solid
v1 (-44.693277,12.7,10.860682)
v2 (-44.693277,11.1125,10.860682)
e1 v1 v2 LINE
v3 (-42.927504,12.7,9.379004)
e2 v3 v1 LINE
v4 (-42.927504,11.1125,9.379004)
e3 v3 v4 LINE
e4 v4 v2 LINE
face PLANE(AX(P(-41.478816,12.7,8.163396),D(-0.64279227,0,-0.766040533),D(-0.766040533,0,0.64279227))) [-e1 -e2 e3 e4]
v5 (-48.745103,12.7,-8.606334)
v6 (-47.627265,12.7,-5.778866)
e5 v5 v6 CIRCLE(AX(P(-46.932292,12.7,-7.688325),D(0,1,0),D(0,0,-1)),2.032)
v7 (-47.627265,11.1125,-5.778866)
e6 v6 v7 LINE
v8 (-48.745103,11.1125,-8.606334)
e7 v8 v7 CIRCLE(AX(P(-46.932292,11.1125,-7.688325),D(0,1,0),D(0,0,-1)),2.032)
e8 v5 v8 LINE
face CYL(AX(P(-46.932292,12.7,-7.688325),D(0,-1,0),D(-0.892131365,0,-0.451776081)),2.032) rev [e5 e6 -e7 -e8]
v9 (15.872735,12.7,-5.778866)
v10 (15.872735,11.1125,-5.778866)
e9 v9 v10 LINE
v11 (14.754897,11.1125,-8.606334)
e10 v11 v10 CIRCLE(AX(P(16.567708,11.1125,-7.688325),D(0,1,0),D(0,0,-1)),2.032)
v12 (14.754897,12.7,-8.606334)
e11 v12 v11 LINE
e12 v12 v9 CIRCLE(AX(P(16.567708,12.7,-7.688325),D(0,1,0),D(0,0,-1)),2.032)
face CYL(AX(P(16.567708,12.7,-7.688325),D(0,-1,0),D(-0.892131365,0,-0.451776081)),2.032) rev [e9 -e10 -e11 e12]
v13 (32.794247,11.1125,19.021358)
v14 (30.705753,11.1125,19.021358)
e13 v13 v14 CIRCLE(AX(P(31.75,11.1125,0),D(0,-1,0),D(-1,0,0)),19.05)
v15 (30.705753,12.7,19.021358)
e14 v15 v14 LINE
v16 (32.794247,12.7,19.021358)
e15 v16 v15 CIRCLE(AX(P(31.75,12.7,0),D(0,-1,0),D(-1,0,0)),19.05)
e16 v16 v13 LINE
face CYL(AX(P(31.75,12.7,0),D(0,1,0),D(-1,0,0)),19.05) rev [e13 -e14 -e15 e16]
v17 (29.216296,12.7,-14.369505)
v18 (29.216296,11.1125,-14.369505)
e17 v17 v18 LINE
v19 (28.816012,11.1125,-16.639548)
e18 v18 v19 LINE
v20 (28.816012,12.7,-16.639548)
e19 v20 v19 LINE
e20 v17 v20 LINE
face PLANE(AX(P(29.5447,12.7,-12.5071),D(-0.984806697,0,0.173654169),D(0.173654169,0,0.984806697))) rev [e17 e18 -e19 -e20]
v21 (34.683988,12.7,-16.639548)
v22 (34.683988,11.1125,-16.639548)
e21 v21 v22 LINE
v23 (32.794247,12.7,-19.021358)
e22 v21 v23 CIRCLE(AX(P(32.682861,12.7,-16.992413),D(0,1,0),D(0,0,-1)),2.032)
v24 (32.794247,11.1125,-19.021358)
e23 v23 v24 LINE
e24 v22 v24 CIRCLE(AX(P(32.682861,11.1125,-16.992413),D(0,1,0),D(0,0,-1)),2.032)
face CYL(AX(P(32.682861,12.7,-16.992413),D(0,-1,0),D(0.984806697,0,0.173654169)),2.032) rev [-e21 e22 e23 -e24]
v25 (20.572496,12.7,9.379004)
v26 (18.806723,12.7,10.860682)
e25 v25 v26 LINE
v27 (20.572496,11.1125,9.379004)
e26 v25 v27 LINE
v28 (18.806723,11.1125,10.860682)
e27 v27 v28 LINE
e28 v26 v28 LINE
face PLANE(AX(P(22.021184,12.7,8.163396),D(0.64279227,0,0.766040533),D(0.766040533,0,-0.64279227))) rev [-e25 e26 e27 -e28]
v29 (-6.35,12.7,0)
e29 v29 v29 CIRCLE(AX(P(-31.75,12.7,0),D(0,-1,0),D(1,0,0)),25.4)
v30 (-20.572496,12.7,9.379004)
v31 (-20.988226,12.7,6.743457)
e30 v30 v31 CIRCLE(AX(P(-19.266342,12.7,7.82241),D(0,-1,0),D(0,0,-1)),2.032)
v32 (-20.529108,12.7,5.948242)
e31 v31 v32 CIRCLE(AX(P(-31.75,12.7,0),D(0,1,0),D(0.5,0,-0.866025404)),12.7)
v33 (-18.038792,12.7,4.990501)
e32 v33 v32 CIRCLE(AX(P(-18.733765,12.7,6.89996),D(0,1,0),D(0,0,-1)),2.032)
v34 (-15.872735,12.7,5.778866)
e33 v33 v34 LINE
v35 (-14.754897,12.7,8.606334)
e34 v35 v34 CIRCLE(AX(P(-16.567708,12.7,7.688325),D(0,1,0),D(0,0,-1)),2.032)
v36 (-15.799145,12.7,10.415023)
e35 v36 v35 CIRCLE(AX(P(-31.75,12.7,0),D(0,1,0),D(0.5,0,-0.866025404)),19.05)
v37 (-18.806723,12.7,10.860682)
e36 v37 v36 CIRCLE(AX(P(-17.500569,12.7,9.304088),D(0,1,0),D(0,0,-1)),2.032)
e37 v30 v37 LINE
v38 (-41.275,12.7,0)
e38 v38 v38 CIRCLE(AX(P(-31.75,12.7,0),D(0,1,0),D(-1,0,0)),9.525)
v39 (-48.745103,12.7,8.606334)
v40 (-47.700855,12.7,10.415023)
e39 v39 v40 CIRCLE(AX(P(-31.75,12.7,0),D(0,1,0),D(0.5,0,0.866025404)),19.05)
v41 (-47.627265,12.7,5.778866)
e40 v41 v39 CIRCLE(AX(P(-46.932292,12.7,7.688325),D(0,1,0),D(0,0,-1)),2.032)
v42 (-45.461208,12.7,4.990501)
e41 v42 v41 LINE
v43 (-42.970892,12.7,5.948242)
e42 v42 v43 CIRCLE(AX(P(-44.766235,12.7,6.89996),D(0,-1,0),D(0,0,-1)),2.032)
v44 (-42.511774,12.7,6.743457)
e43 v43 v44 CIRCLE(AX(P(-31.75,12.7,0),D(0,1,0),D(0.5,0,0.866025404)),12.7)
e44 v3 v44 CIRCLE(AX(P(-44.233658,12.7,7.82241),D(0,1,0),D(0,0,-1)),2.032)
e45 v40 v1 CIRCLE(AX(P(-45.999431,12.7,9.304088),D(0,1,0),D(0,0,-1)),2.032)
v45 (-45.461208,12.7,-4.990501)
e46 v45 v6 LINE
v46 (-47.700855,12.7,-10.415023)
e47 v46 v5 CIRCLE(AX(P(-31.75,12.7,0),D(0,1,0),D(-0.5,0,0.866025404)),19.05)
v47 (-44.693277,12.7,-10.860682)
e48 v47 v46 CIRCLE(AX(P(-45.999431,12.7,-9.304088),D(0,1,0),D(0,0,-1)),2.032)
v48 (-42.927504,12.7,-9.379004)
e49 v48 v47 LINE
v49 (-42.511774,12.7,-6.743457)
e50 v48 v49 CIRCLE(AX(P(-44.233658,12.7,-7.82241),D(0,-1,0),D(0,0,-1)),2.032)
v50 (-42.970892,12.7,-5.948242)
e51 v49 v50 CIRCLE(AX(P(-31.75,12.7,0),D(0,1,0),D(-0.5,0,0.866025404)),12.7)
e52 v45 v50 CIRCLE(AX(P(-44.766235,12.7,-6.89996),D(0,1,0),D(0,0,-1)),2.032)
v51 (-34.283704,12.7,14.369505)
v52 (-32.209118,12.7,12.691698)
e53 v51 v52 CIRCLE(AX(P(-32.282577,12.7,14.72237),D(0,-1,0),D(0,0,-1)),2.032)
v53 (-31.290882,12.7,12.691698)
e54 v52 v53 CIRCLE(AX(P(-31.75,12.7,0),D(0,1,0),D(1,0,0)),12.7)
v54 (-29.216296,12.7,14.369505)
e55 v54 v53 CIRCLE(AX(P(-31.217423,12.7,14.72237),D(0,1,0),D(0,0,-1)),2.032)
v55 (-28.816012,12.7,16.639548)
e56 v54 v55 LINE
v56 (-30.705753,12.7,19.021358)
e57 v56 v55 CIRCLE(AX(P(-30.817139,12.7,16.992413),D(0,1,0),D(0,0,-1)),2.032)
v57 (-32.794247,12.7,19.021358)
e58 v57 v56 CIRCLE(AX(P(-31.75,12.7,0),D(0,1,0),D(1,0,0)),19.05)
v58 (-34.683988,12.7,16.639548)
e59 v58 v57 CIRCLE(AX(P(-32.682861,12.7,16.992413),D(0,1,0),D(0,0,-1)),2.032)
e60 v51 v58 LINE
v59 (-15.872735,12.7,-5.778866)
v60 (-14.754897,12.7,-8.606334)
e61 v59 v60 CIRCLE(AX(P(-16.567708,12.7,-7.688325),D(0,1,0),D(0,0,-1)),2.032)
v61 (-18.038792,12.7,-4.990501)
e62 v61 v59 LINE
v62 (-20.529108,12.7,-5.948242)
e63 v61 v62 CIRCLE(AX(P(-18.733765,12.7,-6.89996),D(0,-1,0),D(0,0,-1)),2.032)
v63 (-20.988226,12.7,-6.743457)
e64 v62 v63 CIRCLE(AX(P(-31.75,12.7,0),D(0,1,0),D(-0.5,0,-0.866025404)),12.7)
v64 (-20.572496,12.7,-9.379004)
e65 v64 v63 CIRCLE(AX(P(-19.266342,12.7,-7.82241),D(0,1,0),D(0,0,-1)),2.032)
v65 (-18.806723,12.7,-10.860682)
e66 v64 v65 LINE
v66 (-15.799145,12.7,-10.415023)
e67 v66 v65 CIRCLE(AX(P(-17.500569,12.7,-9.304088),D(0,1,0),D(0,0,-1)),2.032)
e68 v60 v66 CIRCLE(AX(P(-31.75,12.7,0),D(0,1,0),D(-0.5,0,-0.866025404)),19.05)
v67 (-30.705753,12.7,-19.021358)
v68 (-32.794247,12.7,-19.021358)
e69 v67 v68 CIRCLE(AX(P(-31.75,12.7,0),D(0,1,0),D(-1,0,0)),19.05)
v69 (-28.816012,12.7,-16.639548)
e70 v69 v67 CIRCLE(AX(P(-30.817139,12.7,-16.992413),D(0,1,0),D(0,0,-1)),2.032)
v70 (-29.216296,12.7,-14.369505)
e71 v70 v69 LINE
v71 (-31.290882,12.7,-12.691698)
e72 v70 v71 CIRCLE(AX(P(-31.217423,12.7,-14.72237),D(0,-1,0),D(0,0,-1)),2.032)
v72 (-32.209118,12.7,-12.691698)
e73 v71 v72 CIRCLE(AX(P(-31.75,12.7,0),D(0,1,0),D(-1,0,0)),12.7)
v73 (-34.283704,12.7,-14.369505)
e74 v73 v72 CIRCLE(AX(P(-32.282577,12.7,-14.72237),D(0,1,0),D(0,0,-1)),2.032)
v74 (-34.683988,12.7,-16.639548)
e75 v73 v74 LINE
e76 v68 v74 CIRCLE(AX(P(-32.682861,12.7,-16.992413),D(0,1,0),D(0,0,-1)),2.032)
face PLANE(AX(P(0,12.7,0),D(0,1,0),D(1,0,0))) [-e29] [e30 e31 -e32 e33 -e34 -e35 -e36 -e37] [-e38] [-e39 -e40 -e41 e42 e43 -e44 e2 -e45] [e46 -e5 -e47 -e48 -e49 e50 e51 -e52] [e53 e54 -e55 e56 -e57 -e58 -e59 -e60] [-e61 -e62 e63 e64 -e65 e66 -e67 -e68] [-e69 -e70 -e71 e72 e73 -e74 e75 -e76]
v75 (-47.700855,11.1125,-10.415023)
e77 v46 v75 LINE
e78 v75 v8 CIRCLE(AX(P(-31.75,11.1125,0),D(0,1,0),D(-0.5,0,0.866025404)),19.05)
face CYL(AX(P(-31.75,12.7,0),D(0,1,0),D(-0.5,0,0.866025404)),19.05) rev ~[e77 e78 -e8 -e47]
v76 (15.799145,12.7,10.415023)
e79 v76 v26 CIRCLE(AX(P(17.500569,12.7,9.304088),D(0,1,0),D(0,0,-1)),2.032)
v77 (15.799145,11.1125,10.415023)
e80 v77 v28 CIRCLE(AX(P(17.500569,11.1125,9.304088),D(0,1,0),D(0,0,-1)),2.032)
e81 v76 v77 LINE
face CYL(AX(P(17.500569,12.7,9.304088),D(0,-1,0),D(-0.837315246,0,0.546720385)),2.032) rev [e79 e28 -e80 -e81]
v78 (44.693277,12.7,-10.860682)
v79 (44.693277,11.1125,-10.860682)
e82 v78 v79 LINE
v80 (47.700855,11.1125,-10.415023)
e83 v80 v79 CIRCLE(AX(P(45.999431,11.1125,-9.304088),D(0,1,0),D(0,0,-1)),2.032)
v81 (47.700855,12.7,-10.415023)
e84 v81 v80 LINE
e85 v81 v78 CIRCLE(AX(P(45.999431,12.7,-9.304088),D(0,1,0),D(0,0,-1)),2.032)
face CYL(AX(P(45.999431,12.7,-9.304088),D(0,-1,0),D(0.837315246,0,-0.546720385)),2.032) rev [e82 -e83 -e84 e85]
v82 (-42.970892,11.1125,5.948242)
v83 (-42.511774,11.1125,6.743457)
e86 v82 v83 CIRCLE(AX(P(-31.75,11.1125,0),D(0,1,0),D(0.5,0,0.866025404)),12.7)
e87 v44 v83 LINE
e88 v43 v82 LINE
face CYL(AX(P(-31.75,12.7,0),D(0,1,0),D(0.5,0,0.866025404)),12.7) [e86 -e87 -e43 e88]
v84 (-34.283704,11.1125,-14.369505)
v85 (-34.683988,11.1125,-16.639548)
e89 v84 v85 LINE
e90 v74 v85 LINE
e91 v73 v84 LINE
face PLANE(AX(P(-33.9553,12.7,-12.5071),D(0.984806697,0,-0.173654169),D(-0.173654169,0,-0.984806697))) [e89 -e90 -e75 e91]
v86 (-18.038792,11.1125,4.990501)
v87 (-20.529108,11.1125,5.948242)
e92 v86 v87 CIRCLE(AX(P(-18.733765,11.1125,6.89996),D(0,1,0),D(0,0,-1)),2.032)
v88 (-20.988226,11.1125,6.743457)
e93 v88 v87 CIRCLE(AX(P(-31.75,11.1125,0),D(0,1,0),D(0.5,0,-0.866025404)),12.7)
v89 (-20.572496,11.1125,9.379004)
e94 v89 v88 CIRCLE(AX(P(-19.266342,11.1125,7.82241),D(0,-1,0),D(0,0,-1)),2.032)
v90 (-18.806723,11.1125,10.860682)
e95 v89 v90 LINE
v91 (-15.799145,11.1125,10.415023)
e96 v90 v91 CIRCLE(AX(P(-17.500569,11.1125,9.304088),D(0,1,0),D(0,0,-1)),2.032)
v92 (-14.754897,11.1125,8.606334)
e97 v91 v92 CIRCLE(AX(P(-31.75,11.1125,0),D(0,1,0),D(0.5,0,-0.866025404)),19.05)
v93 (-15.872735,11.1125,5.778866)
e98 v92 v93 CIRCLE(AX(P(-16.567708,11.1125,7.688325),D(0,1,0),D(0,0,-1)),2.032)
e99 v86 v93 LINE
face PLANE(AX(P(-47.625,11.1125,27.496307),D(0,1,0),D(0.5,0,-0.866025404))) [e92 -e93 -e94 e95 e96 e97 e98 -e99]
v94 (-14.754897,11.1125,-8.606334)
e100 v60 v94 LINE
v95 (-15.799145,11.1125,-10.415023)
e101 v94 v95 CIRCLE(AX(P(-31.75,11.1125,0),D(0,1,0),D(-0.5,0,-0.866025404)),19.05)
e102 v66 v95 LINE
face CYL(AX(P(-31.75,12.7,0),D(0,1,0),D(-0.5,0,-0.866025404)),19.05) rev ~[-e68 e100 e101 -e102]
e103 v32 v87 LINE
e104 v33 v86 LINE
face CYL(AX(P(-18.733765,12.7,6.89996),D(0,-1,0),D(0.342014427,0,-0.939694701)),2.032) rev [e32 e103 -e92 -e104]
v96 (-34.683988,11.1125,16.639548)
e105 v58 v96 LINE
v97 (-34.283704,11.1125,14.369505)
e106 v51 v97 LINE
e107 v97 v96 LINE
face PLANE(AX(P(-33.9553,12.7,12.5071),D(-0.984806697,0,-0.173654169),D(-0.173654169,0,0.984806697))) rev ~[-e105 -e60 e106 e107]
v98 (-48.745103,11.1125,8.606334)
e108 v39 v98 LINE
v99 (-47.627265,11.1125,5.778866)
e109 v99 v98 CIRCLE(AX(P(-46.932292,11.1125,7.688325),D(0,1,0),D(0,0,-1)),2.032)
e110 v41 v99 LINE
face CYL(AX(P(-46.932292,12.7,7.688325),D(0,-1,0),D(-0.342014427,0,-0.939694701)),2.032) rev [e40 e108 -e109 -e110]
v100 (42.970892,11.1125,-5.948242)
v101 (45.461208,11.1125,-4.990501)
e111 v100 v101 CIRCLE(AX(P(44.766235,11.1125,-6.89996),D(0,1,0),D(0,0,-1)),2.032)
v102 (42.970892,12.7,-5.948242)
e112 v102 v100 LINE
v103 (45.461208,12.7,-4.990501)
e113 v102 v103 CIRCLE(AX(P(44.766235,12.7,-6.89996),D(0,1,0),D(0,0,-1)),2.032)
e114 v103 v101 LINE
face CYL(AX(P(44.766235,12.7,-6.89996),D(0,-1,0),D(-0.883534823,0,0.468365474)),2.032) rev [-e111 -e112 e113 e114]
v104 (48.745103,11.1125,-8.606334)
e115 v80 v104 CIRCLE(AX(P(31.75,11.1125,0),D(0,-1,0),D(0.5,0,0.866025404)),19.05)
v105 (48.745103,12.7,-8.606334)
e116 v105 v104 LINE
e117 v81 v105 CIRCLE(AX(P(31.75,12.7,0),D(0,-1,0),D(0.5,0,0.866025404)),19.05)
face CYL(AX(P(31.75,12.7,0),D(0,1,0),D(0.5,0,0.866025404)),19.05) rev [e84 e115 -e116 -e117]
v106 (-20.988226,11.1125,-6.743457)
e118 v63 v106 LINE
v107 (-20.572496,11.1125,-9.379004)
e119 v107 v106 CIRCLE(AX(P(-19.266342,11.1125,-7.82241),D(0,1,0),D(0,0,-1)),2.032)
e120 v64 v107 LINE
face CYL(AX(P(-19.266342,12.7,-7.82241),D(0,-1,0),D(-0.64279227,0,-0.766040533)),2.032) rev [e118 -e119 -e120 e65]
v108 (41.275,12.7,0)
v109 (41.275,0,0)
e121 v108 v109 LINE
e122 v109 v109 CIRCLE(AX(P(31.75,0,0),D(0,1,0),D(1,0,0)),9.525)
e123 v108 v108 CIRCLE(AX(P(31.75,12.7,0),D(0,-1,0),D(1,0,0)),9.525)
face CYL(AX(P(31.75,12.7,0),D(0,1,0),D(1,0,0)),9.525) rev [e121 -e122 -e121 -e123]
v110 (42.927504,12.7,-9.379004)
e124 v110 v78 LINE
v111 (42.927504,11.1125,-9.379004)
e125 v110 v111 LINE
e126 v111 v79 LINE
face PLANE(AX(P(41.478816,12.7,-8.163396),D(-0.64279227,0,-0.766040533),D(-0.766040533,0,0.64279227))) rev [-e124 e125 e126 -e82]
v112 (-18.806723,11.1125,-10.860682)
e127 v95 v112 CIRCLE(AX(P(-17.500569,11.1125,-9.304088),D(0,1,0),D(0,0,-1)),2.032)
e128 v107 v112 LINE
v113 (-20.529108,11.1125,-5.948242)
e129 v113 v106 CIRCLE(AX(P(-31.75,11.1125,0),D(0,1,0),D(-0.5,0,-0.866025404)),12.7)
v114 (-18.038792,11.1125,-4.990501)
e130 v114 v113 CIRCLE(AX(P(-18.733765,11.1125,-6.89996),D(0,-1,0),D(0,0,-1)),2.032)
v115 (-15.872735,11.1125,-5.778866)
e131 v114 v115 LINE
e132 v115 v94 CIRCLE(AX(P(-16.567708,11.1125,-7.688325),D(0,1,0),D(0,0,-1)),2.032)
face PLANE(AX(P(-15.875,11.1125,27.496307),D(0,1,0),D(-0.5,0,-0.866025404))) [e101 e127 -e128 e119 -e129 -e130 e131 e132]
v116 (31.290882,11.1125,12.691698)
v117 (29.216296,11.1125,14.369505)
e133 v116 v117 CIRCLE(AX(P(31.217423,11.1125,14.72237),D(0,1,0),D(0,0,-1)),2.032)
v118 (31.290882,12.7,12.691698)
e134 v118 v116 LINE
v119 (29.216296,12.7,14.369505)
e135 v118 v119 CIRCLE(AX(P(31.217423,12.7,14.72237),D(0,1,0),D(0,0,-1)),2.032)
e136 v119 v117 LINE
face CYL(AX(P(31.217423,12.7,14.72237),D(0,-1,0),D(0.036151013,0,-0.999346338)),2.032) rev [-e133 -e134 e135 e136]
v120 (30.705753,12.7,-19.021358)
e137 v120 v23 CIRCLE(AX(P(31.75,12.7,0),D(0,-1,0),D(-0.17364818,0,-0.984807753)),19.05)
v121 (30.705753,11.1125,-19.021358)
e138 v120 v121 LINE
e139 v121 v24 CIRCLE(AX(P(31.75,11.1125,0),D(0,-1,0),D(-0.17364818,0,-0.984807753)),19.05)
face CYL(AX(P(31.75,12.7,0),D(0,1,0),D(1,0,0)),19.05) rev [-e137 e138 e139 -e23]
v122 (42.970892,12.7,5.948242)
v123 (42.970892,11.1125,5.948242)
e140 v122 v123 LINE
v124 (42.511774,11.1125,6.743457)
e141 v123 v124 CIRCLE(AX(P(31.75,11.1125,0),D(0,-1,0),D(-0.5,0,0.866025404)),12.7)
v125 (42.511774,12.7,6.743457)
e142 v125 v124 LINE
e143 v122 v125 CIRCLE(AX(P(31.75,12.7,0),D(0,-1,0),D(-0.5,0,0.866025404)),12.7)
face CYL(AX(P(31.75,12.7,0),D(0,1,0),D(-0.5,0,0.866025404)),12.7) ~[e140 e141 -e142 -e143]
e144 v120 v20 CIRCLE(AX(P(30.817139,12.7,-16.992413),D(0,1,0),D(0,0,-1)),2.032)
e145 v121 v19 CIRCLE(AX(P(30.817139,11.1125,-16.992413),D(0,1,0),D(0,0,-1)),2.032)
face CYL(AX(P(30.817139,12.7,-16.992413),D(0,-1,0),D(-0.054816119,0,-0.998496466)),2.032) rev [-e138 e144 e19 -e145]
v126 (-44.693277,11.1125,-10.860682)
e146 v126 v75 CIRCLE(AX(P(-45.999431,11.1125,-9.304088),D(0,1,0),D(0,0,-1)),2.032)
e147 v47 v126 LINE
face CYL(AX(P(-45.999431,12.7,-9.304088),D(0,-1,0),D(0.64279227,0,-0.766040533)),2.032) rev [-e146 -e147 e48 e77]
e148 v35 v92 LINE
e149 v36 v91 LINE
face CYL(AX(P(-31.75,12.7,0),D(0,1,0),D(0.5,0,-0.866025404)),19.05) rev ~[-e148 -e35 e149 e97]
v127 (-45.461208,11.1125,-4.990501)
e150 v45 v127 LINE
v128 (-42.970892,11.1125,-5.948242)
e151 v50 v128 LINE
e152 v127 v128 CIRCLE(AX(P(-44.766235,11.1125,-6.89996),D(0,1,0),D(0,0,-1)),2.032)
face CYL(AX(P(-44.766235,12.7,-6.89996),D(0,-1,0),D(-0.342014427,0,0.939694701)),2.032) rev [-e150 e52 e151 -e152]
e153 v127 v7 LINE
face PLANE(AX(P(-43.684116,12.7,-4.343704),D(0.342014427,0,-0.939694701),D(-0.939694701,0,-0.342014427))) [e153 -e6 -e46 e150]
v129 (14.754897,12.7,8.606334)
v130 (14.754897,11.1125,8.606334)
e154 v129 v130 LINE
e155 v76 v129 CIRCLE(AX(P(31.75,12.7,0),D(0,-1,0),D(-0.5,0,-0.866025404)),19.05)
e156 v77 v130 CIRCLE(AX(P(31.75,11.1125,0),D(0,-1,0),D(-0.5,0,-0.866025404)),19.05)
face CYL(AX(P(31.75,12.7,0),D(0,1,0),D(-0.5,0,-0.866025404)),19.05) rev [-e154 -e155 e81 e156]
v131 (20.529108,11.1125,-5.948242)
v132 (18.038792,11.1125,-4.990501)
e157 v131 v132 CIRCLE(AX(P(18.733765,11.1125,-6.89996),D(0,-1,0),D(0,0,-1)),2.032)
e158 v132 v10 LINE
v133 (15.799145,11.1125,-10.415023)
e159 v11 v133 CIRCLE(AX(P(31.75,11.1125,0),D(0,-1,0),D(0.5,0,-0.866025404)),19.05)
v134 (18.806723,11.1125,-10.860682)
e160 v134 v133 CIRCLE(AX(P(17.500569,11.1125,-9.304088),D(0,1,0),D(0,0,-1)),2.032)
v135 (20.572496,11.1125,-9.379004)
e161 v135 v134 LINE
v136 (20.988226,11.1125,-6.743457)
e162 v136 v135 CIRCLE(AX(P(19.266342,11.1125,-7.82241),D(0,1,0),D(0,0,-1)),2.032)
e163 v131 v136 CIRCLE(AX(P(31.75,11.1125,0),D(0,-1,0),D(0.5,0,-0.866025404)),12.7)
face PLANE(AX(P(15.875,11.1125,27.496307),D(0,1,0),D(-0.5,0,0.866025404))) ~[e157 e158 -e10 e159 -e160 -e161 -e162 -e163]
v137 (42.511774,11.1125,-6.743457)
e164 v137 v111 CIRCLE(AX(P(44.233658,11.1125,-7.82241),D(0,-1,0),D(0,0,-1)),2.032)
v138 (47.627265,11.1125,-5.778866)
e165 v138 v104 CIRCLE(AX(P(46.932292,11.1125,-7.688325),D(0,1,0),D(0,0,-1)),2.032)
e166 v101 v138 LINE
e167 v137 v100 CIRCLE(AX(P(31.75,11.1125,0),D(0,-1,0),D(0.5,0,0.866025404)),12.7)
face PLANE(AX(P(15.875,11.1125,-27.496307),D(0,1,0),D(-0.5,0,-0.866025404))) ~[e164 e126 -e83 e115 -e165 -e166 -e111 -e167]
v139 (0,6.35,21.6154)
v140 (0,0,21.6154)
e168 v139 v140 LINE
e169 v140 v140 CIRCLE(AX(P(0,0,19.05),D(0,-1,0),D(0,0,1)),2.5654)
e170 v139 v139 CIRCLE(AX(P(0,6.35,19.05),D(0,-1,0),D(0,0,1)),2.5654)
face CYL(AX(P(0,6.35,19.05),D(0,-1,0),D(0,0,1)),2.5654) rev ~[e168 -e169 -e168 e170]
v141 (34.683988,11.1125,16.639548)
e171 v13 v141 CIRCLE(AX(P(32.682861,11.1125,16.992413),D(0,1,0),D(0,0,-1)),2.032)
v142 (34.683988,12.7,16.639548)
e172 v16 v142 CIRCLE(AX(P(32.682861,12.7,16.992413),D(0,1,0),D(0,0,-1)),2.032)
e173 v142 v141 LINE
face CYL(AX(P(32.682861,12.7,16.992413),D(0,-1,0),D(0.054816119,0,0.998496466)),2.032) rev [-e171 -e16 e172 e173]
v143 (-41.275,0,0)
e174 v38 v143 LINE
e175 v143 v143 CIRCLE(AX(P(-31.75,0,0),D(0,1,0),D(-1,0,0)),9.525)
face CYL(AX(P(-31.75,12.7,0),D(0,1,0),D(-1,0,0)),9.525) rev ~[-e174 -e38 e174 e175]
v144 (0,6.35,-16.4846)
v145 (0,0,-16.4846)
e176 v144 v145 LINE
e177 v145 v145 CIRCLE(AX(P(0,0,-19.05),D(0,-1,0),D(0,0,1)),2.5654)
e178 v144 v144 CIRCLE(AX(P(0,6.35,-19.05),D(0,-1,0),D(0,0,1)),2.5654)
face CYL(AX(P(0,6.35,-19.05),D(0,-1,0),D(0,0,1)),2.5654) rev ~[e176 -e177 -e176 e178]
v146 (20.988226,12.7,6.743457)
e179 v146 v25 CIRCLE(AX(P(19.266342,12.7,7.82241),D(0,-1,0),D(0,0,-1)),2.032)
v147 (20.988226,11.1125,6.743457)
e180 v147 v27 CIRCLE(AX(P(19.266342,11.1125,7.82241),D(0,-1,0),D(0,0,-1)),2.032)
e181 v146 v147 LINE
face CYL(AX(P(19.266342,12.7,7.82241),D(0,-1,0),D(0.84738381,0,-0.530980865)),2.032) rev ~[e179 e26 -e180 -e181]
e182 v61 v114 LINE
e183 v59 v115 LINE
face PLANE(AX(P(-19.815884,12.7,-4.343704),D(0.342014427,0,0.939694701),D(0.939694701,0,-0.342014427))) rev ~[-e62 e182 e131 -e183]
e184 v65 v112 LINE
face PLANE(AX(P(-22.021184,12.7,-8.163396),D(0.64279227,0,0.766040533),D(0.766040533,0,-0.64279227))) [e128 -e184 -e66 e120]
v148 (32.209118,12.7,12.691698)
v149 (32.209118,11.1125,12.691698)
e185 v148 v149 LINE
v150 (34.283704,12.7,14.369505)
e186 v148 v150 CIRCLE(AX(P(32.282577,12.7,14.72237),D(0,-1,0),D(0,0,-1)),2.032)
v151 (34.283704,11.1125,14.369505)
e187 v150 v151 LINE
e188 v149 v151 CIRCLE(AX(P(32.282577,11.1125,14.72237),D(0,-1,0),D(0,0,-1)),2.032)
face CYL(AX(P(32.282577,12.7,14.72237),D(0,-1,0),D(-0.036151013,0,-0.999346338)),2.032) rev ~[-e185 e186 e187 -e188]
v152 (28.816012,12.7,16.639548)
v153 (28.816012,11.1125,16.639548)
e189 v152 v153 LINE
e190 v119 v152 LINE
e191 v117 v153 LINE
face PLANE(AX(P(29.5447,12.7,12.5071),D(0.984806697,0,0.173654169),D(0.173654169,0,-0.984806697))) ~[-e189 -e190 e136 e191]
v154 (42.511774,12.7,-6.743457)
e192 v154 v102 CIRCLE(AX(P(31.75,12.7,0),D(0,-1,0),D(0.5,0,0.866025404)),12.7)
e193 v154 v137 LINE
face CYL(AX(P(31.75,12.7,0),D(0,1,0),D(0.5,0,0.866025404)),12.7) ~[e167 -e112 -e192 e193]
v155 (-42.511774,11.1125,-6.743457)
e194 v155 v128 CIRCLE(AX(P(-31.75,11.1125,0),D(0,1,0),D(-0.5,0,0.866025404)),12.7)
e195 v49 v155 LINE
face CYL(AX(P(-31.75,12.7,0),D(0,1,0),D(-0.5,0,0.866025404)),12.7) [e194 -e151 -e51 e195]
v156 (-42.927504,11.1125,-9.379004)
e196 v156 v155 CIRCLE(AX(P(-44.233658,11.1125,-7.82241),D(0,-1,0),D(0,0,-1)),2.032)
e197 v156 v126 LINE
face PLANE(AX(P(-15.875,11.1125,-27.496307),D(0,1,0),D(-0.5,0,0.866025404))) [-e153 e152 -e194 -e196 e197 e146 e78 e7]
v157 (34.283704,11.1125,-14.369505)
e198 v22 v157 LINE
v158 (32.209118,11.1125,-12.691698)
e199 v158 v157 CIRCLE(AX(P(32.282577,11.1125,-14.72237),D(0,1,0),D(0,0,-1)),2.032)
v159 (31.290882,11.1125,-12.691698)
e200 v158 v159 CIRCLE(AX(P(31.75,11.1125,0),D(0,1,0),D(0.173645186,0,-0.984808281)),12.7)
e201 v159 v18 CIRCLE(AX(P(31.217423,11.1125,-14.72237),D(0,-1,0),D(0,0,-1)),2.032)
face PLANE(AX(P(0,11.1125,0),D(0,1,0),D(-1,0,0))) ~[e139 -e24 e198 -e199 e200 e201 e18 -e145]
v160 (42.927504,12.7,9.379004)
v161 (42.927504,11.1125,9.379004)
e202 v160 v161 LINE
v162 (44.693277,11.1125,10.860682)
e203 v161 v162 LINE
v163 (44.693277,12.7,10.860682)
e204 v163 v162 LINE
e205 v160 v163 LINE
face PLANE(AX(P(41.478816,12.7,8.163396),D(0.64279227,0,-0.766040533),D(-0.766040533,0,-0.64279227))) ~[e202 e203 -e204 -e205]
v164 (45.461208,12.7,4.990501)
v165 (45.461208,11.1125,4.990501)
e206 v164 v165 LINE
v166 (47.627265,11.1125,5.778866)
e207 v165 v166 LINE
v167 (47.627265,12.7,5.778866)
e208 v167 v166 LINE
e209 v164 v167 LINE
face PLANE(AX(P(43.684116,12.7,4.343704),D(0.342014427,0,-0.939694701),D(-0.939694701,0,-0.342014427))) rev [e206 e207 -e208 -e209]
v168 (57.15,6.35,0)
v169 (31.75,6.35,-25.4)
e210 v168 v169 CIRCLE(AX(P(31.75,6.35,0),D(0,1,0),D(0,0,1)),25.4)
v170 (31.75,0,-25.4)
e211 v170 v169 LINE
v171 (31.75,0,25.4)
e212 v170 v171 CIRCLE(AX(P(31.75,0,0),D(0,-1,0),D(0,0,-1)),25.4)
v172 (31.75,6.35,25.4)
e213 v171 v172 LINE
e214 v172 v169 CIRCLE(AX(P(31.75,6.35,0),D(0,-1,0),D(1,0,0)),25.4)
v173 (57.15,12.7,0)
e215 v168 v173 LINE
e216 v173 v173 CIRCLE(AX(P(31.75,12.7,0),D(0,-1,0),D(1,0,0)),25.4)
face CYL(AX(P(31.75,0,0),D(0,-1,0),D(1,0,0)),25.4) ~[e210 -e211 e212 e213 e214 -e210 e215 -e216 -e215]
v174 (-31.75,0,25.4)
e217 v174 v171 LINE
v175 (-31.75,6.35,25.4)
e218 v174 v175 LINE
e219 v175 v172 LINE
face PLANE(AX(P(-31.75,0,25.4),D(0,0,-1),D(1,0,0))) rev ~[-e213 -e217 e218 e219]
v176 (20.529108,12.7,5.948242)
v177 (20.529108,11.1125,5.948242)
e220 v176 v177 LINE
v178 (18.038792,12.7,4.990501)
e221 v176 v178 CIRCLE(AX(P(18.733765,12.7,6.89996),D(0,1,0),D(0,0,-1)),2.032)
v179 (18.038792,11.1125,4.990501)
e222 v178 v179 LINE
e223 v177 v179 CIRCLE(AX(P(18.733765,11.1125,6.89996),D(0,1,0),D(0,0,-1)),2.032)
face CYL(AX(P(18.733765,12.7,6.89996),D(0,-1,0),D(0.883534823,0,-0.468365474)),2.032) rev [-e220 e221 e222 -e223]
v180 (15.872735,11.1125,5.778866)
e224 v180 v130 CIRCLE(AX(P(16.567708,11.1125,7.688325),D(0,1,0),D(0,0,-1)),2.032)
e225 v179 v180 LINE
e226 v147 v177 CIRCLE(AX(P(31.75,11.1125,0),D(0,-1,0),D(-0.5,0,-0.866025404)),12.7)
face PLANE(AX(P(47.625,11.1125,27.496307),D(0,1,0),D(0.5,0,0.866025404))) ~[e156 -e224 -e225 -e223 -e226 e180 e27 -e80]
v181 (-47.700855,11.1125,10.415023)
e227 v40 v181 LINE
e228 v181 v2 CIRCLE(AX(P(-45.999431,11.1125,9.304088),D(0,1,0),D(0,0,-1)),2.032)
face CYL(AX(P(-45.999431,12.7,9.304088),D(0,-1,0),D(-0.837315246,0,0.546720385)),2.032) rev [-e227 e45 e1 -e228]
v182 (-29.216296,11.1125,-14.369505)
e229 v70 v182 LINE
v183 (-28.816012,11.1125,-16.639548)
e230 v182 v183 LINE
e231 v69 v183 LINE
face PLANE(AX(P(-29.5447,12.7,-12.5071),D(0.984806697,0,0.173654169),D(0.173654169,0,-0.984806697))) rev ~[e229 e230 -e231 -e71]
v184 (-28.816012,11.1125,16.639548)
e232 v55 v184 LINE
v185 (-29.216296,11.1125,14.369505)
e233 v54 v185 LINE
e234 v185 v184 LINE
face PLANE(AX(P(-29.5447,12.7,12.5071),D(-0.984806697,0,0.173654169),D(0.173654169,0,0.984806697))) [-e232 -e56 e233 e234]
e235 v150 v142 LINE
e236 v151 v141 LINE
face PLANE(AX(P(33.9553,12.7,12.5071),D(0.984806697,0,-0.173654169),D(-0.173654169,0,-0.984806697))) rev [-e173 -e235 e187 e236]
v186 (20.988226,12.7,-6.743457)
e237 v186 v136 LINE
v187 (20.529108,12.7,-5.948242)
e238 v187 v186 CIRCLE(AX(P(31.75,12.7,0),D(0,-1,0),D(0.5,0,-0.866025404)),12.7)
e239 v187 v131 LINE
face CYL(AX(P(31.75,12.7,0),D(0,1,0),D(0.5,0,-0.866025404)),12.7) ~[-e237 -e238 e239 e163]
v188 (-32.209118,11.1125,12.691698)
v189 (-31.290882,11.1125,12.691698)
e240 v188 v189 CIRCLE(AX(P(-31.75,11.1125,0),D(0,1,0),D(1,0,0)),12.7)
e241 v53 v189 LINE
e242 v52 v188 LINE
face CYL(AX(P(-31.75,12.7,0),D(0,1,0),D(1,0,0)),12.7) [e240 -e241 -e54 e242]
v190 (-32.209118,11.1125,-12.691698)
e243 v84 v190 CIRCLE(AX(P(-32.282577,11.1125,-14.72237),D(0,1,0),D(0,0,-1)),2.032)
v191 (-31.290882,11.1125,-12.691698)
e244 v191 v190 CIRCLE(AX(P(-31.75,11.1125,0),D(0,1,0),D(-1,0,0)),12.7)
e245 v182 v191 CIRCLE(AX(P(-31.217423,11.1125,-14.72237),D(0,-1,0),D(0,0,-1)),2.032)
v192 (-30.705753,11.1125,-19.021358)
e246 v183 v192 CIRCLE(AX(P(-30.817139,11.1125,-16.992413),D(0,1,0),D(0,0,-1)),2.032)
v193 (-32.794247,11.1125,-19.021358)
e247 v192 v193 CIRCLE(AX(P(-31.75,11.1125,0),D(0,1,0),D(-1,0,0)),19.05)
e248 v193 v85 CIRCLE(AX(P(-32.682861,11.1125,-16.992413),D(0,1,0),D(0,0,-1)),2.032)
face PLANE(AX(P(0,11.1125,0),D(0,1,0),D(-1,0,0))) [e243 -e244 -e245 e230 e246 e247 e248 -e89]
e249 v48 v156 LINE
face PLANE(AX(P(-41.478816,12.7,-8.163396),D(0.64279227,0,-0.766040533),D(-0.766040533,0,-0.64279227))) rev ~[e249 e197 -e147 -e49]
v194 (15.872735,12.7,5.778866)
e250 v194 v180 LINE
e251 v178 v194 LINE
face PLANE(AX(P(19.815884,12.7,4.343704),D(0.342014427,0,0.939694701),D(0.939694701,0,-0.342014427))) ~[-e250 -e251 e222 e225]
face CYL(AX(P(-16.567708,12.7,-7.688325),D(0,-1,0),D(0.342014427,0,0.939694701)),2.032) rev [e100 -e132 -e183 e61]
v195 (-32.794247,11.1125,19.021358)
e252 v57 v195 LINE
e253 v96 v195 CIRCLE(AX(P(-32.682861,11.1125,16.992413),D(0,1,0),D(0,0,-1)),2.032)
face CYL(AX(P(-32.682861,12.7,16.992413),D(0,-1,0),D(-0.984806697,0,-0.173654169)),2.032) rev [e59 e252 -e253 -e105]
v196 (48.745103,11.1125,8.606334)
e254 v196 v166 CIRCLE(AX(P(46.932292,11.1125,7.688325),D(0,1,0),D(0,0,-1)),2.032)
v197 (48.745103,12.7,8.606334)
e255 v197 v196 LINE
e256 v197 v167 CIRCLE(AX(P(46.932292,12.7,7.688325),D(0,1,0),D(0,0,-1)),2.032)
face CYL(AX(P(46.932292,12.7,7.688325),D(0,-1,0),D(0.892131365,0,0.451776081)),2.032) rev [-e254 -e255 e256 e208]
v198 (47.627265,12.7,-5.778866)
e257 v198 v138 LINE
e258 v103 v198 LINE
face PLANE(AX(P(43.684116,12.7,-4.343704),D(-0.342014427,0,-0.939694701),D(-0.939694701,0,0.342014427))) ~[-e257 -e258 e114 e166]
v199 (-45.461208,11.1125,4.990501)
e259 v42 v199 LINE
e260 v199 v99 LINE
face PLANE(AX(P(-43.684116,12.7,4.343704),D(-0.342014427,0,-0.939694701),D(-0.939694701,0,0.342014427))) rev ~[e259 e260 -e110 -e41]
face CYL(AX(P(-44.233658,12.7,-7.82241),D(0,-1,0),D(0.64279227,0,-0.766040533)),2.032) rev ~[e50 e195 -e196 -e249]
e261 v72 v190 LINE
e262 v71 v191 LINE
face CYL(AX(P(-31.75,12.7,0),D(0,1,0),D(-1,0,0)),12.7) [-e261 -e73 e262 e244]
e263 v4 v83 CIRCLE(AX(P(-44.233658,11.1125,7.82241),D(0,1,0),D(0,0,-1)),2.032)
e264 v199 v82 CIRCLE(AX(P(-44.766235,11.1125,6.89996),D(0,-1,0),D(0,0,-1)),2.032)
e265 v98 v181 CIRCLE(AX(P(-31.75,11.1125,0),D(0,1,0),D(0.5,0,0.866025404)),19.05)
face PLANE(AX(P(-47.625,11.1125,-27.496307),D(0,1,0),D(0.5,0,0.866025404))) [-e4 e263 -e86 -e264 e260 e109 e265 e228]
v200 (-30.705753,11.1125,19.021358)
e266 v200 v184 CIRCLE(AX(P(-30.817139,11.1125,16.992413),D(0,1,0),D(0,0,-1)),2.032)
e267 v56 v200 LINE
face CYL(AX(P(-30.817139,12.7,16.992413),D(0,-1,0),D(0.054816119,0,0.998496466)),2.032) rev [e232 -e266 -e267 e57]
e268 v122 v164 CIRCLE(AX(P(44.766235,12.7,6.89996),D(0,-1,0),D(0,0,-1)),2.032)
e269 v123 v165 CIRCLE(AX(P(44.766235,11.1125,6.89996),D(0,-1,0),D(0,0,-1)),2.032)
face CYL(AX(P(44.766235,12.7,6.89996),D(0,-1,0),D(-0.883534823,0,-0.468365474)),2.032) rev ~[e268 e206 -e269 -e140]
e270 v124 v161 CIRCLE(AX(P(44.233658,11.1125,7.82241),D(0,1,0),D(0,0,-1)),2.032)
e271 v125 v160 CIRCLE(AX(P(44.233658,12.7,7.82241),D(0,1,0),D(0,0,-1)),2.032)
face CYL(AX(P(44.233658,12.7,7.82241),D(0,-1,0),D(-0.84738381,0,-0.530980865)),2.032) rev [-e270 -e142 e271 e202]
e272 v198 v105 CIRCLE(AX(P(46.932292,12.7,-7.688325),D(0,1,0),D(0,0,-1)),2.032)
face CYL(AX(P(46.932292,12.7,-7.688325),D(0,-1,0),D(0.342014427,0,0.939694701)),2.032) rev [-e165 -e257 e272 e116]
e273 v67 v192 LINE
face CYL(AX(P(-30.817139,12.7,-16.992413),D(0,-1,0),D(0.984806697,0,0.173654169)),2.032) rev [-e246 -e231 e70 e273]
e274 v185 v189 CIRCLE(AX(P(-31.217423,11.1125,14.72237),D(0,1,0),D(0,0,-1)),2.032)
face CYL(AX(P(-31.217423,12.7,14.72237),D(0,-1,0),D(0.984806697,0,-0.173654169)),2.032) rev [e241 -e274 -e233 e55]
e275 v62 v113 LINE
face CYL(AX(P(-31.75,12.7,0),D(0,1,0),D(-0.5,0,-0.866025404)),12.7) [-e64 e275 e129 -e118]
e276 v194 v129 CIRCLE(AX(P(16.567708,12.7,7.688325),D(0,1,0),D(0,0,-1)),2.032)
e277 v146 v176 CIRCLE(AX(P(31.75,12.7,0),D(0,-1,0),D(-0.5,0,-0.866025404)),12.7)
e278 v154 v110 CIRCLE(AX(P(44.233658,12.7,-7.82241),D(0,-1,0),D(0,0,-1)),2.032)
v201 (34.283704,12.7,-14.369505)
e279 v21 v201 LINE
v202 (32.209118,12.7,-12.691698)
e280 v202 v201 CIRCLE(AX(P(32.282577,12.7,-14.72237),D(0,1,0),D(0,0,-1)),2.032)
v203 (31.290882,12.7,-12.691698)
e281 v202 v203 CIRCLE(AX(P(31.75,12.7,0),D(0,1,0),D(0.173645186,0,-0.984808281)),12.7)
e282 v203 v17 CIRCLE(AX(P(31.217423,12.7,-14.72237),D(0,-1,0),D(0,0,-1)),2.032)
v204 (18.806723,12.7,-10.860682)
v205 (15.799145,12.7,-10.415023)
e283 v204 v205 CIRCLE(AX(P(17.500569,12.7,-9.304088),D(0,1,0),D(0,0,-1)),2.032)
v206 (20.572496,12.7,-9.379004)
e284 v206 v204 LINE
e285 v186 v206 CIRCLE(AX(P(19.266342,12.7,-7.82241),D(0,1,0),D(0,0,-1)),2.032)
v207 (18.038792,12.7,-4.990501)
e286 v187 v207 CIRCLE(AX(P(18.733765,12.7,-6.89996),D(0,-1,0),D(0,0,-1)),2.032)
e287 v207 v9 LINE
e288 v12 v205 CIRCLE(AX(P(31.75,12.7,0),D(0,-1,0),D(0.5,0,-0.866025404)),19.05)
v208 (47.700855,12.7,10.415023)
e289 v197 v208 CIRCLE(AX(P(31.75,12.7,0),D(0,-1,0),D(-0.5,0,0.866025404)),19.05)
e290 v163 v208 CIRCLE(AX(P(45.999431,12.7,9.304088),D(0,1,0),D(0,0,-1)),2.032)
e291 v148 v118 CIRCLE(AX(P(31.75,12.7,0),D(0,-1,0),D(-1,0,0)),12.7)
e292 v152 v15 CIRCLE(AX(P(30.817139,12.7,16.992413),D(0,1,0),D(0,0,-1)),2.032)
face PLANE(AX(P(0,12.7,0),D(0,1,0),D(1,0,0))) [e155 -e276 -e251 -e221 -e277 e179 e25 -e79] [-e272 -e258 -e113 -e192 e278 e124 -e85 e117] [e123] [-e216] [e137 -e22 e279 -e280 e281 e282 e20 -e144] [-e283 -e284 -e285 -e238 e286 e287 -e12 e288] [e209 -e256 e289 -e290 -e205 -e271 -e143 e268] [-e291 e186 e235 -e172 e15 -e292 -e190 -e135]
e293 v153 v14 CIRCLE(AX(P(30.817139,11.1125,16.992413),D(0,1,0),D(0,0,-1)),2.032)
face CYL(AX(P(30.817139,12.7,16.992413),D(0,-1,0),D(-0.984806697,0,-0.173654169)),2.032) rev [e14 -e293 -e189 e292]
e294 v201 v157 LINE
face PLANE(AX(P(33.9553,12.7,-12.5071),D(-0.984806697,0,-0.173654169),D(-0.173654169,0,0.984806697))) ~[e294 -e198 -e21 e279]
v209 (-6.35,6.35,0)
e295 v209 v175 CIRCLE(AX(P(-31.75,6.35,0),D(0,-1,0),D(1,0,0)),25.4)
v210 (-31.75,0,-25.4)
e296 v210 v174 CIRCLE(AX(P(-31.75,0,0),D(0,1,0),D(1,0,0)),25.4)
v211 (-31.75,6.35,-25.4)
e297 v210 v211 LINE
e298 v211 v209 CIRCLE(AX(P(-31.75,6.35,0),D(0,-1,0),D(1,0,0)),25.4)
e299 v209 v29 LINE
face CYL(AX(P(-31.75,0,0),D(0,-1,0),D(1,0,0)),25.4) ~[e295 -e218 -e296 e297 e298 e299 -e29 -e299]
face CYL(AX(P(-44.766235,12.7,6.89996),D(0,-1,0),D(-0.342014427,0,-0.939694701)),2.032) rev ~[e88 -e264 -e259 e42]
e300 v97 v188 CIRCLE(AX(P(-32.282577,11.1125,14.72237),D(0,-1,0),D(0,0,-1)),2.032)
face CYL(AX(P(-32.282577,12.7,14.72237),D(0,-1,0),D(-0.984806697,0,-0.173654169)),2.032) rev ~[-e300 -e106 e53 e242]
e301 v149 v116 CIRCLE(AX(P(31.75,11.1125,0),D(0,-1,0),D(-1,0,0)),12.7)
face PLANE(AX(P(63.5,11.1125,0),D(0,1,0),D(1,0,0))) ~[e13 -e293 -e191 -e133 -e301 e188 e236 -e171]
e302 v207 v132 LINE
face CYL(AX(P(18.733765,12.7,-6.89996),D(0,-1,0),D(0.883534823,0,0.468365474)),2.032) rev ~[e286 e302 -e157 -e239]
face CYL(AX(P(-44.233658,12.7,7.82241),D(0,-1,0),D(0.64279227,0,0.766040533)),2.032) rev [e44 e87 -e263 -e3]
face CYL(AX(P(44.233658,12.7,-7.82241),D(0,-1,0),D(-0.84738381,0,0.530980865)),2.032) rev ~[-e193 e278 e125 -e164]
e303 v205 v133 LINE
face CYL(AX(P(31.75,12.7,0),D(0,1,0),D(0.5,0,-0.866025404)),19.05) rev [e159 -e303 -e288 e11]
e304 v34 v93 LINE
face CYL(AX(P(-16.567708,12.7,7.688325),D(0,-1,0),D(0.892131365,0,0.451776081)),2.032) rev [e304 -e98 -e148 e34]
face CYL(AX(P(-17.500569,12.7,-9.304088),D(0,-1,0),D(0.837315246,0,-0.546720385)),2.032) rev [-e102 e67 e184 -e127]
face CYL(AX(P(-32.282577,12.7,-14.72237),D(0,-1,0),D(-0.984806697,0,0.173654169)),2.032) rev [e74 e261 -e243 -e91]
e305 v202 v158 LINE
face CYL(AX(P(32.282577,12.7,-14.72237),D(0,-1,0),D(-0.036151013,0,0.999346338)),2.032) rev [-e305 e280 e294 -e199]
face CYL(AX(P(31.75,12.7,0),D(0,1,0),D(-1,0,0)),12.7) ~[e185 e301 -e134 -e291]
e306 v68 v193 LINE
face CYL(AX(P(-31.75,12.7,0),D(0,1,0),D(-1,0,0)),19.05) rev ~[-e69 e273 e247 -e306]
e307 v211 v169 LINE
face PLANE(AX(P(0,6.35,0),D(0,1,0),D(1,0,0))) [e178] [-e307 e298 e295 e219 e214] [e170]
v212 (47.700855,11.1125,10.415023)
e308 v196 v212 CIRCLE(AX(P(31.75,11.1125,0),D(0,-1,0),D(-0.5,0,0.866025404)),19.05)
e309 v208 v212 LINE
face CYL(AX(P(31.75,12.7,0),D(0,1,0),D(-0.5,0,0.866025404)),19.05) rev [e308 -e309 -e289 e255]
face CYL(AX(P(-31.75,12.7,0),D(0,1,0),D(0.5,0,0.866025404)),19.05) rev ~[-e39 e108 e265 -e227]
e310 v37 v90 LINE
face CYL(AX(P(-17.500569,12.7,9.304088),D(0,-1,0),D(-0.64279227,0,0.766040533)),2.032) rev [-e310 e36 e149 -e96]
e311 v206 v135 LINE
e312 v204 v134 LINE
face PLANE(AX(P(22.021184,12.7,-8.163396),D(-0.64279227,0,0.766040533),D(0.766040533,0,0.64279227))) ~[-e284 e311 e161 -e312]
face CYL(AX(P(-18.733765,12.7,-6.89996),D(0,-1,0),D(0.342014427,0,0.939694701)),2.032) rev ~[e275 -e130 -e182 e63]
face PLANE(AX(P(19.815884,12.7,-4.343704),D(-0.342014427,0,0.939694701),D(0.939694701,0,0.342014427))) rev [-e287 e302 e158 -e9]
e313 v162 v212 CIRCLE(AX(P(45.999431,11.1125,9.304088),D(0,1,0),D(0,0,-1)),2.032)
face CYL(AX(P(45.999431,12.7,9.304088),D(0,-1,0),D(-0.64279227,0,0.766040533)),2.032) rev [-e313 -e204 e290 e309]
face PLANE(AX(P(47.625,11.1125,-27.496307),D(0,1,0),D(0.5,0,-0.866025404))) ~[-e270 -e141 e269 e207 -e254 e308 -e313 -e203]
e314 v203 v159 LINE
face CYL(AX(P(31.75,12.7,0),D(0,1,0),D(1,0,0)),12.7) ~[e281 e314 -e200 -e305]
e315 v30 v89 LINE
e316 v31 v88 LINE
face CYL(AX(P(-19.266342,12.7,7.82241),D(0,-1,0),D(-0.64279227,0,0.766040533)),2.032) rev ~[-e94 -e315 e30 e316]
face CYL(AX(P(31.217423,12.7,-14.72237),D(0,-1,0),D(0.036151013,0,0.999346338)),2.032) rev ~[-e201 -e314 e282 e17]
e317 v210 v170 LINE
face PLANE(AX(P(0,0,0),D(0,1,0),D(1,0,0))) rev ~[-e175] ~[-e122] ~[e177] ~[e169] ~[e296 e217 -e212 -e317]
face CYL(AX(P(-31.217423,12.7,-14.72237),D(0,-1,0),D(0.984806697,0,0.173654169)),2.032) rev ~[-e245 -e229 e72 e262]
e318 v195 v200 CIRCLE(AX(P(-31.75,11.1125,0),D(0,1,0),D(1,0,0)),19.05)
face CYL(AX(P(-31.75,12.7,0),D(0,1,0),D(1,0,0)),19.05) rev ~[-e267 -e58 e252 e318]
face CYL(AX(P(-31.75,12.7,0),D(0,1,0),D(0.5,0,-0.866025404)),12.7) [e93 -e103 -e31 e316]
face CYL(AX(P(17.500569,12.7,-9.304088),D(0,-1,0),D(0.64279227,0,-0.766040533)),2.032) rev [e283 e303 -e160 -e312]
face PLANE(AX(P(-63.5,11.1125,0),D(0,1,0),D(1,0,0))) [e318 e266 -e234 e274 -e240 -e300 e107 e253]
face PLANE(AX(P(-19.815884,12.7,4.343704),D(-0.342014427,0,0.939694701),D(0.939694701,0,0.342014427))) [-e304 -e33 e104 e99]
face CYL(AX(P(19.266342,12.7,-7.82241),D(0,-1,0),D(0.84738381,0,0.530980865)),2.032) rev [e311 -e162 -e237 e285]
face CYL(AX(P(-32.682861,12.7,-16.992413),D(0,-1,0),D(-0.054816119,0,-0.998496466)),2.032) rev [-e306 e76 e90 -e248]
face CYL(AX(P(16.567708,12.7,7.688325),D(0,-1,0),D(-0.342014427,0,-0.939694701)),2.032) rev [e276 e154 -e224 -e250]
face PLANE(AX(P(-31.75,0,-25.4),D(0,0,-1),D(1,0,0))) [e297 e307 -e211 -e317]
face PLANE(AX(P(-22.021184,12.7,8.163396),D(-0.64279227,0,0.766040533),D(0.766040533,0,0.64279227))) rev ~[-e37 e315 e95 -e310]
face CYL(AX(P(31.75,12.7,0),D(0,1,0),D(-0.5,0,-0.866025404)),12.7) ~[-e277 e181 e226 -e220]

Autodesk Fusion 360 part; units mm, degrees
sketch "Sketch1" plane through (0, 0, 0) normal (0, 1, 0) x (1, 0, 0)
  circle A0 centre (-31.75, 0) radius 25.4
  circle A1 centre (31.75, 0) radius 25.4
  line L0 (-31.75, 0) -> (31.75, 0) construction
  line L1 (-31.75, 25.4) -> (31.75, 25.4)
  line L2 (-31.75, -25.4) -> (31.75, -25.4)
  dimension "d1" = 63.5
  dimension "d2" = 50.8
extrude "Extrude1" add sketch "Sketch1" along normal blind 6.35
extrude "Extrude2" add sketch "Sketch1" along normal blind 12.7 contours A0 | A1
sketch "Sketch2" plane through (0, 12.7, 0) normal (0, 1, 0) x (-1, 0, 0)
  circle A0 centre (31.75, 0) radius 25.4
  line L0 (31.75, 0) -> (31.75, -19.05) construction
  circle A1 centre (31.75, 0) radius 19.05
  circle A2 centre (31.75, 0) radius 12.7
  line L1 (29.5447, -12.5071) -> (28.442, -18.7606)
  line L2 (33.9553, -12.5071) -> (35.058, -18.7606)
  dimension "d7" = 25.4
  dimension "d8" = 38.1
  dimension "d9" = 10
  dimension "d10" = 10
extrude "Extrude3" cut sketch "Sketch2" against normal blind 1.5875 contours A1 A2 L1 L2 picked at (33.468, -16.819)
fillet "Fillet1" radius 2.032 4 edges at (-29.5447, 11.9062, -12.5071) (-33.9553, 11.9062, -12.5071) (-35.058, 11.9062, -18.7606) (-28.442, 11.9062, -18.7606)
pattern_circular "C-Pattern1" count 6 over 360 about axis through (-31.75, 12.7, 0) along (0, 1, 0) of "Extrude3", "Fillet1"
mirror "Mirror1" about plane through (0, 0, 0) normal (1, 0, 0) of "Extrude3", "Fillet1", "C-Pattern1"
sketch "Sketch3" plane through (0, 12.7, 0) normal (0, 1, 0) x (-1, 0, 0)
  arc A0 (20.5291, -5.9482) -> (20.9882, -6.7435) centre (31.75, 0) ccw
  arc A1 (20.5725, -9.379) -> (20.9882, -6.7435) centre (19.2664, -7.8224) ccw
  line L0 (20.5725, -9.379) -> (18.8067, -10.8607)
  arc A2 (15.7992, -10.415) -> (18.8067, -10.8607) centre (17.5006, -9.3041) ccw
  arc A3 (14.7549, -8.6063) -> (15.7992, -10.415) centre (31.75, 0) ccw
  arc A4 (15.8727, -5.7789) -> (14.7549, -8.6063) centre (16.5677, -7.6883) ccw
  line L1 (15.8727, -5.7789) -> (18.0388, -4.9905)
  arc A5 (20.5291, -5.9482) -> (18.0388, -4.9905) centre (18.7338, -6.8999) ccw
  arc A6 (20.9882, 6.7435) -> (20.5291, 5.9482) centre (31.75, 0) ccw
  arc A7 (18.0388, 4.9905) -> (20.5291, 5.9482) centre (18.7338, 6.8999) ccw
  line L2 (18.0388, 4.9905) -> (15.8727, 5.7789)
  arc A8 (14.7549, 8.6063) -> (15.8727, 5.7789) centre (16.5677, 7.6883) ccw
  arc A9 (15.7992, 10.415) -> (14.7549, 8.6063) centre (31.75, 0) ccw
  arc A10 (18.8067, 10.8607) -> (15.7992, 10.415) centre (17.5006, 9.3041) ccw
  line L3 (18.8067, 10.8607) -> (20.5725, 9.379)
  arc A11 (20.9882, 6.7435) -> (20.5725, 9.379) centre (19.2664, 7.8224) ccw
  arc A12 (32.2091, 12.6917) -> (31.2909, 12.6917) centre (31.75, 0) ccw
  arc A13 (29.2163, 14.3695) -> (31.2909, 12.6917) centre (31.2174, 14.7224) ccw
  line L4 (29.2163, 14.3695) -> (28.816, 16.6396)
  arc A14 (30.7057, 19.0214) -> (28.816, 16.6396) centre (30.8171, 16.9924) ccw
  arc A15 (32.7943, 19.0214) -> (30.7057, 19.0214) centre (31.75, 0) ccw
  arc A16 (34.684, 16.6396) -> (32.7943, 19.0214) centre (32.6829, 16.9924) ccw
  line L5 (34.684, 16.6396) -> (34.2837, 14.3695)
  arc A17 (32.2091, 12.6917) -> (34.2837, 14.3695) centre (32.2826, 14.7224) ccw
  arc A18 (42.9709, 5.9482) -> (42.5118, 6.7435) centre (31.75, 0) ccw
  arc A19 (42.9275, 9.379) -> (42.5118, 6.7435) centre (44.2336, 7.8224) ccw
  line L6 (42.9275, 9.379) -> (44.6933, 10.8607)
  arc A20 (47.7008, 10.415) -> (44.6933, 10.8607) centre (45.9994, 9.3041) ccw
  arc A21 (48.7451, 8.6063) -> (47.7008, 10.415) centre (31.75, 0) ccw
  arc A22 (47.6273, 5.7789) -> (48.7451, 8.6063) centre (46.9323, 7.6883) ccw
  line L7 (47.6273, 5.7789) -> (45.4612, 4.9905)
  arc A23 (42.9709, 5.9482) -> (45.4612, 4.9905) centre (44.7662, 6.8999) ccw
  arc A24 (42.5118, -6.7435) -> (42.9709, -5.9482) centre (31.75, 0) ccw
  arc A25 (45.4612, -4.9905) -> (42.9709, -5.9482) centre (44.7662, -6.8999) ccw
  line L8 (45.4612, -4.9905) -> (47.6273, -5.7789)
  arc A26 (48.7451, -8.6063) -> (47.6273, -5.7789) centre (46.9323, -7.6883) ccw
  arc A27 (47.7008, -10.415) -> (48.7451, -8.6063) centre (31.75, 0) ccw
  arc A28 (44.6933, -10.8607) -> (47.7008, -10.415) centre (45.9994, -9.3041) ccw
  line L9 (44.6933, -10.8607) -> (42.9275, -9.379)
  arc A29 (42.5118, -6.7435) -> (42.9275, -9.379) centre (44.2336, -7.8224) ccw
  arc A30 (31.2909, -12.6917) -> (32.2091, -12.6917) centre (31.75, 0) ccw
  arc A31 (34.2837, -14.3695) -> (32.2091, -12.6917) centre (32.2826, -14.7224) ccw
  line L10 (34.2837, -14.3695) -> (34.684, -16.6396)
  arc A32 (32.7943, -19.0214) -> (34.684, -16.6396) centre (32.6829, -16.9924) ccw
  arc A33 (30.7057, -19.0214) -> (32.7943, -19.0214) centre (31.75, 0) ccw
  arc A34 (28.816, -16.6396) -> (30.7057, -19.0214) centre (30.8171, -16.9924) ccw
  line L11 (28.816, -16.6396) -> (29.2163, -14.3695)
  arc A35 (31.2909, -12.6917) -> (29.2163, -14.3695) centre (31.2174, -14.7224) ccw
  circle A36 centre (31.75, 0) radius 25.4
  circle A37 centre (31.75, 0) radius 9.525
  dimension "d17" = 19.05
extrude "Extrude4" cut sketch "Sketch3" against normal through all contours A37
mirror "Mirror2" about plane through (0, 0, 0) normal (1, 0, 0) of "Extrude4"
sketch "Sketch4" plane through (0, 6.35, 0) normal (0, 1, 0) x (-1, 0, 0)
  arc A0 (-31.75, -25.4) -> (-31.75, 25.4) centre (-31.75, 0) ccw
  line L0 (-31.75, -25.4) -> (31.75, -25.4)
  arc A1 (31.75, 25.4) -> (31.75, -25.4) centre (31.75, 0) ccw
  line L1 (31.75, 25.4) -> (-31.75, 25.4)
  point P0 (0, -19.05)
  point P1 (0, 19.05)
  dimension "d20" = 19.05
  dimension "d21" = 19.05
hole "Hole1" at (0, 6.35, -19.05) at (0, 6.35, 19.05) direction (0, -1, 0) diameter 5.1308 depth 17.78 tip angle 118
